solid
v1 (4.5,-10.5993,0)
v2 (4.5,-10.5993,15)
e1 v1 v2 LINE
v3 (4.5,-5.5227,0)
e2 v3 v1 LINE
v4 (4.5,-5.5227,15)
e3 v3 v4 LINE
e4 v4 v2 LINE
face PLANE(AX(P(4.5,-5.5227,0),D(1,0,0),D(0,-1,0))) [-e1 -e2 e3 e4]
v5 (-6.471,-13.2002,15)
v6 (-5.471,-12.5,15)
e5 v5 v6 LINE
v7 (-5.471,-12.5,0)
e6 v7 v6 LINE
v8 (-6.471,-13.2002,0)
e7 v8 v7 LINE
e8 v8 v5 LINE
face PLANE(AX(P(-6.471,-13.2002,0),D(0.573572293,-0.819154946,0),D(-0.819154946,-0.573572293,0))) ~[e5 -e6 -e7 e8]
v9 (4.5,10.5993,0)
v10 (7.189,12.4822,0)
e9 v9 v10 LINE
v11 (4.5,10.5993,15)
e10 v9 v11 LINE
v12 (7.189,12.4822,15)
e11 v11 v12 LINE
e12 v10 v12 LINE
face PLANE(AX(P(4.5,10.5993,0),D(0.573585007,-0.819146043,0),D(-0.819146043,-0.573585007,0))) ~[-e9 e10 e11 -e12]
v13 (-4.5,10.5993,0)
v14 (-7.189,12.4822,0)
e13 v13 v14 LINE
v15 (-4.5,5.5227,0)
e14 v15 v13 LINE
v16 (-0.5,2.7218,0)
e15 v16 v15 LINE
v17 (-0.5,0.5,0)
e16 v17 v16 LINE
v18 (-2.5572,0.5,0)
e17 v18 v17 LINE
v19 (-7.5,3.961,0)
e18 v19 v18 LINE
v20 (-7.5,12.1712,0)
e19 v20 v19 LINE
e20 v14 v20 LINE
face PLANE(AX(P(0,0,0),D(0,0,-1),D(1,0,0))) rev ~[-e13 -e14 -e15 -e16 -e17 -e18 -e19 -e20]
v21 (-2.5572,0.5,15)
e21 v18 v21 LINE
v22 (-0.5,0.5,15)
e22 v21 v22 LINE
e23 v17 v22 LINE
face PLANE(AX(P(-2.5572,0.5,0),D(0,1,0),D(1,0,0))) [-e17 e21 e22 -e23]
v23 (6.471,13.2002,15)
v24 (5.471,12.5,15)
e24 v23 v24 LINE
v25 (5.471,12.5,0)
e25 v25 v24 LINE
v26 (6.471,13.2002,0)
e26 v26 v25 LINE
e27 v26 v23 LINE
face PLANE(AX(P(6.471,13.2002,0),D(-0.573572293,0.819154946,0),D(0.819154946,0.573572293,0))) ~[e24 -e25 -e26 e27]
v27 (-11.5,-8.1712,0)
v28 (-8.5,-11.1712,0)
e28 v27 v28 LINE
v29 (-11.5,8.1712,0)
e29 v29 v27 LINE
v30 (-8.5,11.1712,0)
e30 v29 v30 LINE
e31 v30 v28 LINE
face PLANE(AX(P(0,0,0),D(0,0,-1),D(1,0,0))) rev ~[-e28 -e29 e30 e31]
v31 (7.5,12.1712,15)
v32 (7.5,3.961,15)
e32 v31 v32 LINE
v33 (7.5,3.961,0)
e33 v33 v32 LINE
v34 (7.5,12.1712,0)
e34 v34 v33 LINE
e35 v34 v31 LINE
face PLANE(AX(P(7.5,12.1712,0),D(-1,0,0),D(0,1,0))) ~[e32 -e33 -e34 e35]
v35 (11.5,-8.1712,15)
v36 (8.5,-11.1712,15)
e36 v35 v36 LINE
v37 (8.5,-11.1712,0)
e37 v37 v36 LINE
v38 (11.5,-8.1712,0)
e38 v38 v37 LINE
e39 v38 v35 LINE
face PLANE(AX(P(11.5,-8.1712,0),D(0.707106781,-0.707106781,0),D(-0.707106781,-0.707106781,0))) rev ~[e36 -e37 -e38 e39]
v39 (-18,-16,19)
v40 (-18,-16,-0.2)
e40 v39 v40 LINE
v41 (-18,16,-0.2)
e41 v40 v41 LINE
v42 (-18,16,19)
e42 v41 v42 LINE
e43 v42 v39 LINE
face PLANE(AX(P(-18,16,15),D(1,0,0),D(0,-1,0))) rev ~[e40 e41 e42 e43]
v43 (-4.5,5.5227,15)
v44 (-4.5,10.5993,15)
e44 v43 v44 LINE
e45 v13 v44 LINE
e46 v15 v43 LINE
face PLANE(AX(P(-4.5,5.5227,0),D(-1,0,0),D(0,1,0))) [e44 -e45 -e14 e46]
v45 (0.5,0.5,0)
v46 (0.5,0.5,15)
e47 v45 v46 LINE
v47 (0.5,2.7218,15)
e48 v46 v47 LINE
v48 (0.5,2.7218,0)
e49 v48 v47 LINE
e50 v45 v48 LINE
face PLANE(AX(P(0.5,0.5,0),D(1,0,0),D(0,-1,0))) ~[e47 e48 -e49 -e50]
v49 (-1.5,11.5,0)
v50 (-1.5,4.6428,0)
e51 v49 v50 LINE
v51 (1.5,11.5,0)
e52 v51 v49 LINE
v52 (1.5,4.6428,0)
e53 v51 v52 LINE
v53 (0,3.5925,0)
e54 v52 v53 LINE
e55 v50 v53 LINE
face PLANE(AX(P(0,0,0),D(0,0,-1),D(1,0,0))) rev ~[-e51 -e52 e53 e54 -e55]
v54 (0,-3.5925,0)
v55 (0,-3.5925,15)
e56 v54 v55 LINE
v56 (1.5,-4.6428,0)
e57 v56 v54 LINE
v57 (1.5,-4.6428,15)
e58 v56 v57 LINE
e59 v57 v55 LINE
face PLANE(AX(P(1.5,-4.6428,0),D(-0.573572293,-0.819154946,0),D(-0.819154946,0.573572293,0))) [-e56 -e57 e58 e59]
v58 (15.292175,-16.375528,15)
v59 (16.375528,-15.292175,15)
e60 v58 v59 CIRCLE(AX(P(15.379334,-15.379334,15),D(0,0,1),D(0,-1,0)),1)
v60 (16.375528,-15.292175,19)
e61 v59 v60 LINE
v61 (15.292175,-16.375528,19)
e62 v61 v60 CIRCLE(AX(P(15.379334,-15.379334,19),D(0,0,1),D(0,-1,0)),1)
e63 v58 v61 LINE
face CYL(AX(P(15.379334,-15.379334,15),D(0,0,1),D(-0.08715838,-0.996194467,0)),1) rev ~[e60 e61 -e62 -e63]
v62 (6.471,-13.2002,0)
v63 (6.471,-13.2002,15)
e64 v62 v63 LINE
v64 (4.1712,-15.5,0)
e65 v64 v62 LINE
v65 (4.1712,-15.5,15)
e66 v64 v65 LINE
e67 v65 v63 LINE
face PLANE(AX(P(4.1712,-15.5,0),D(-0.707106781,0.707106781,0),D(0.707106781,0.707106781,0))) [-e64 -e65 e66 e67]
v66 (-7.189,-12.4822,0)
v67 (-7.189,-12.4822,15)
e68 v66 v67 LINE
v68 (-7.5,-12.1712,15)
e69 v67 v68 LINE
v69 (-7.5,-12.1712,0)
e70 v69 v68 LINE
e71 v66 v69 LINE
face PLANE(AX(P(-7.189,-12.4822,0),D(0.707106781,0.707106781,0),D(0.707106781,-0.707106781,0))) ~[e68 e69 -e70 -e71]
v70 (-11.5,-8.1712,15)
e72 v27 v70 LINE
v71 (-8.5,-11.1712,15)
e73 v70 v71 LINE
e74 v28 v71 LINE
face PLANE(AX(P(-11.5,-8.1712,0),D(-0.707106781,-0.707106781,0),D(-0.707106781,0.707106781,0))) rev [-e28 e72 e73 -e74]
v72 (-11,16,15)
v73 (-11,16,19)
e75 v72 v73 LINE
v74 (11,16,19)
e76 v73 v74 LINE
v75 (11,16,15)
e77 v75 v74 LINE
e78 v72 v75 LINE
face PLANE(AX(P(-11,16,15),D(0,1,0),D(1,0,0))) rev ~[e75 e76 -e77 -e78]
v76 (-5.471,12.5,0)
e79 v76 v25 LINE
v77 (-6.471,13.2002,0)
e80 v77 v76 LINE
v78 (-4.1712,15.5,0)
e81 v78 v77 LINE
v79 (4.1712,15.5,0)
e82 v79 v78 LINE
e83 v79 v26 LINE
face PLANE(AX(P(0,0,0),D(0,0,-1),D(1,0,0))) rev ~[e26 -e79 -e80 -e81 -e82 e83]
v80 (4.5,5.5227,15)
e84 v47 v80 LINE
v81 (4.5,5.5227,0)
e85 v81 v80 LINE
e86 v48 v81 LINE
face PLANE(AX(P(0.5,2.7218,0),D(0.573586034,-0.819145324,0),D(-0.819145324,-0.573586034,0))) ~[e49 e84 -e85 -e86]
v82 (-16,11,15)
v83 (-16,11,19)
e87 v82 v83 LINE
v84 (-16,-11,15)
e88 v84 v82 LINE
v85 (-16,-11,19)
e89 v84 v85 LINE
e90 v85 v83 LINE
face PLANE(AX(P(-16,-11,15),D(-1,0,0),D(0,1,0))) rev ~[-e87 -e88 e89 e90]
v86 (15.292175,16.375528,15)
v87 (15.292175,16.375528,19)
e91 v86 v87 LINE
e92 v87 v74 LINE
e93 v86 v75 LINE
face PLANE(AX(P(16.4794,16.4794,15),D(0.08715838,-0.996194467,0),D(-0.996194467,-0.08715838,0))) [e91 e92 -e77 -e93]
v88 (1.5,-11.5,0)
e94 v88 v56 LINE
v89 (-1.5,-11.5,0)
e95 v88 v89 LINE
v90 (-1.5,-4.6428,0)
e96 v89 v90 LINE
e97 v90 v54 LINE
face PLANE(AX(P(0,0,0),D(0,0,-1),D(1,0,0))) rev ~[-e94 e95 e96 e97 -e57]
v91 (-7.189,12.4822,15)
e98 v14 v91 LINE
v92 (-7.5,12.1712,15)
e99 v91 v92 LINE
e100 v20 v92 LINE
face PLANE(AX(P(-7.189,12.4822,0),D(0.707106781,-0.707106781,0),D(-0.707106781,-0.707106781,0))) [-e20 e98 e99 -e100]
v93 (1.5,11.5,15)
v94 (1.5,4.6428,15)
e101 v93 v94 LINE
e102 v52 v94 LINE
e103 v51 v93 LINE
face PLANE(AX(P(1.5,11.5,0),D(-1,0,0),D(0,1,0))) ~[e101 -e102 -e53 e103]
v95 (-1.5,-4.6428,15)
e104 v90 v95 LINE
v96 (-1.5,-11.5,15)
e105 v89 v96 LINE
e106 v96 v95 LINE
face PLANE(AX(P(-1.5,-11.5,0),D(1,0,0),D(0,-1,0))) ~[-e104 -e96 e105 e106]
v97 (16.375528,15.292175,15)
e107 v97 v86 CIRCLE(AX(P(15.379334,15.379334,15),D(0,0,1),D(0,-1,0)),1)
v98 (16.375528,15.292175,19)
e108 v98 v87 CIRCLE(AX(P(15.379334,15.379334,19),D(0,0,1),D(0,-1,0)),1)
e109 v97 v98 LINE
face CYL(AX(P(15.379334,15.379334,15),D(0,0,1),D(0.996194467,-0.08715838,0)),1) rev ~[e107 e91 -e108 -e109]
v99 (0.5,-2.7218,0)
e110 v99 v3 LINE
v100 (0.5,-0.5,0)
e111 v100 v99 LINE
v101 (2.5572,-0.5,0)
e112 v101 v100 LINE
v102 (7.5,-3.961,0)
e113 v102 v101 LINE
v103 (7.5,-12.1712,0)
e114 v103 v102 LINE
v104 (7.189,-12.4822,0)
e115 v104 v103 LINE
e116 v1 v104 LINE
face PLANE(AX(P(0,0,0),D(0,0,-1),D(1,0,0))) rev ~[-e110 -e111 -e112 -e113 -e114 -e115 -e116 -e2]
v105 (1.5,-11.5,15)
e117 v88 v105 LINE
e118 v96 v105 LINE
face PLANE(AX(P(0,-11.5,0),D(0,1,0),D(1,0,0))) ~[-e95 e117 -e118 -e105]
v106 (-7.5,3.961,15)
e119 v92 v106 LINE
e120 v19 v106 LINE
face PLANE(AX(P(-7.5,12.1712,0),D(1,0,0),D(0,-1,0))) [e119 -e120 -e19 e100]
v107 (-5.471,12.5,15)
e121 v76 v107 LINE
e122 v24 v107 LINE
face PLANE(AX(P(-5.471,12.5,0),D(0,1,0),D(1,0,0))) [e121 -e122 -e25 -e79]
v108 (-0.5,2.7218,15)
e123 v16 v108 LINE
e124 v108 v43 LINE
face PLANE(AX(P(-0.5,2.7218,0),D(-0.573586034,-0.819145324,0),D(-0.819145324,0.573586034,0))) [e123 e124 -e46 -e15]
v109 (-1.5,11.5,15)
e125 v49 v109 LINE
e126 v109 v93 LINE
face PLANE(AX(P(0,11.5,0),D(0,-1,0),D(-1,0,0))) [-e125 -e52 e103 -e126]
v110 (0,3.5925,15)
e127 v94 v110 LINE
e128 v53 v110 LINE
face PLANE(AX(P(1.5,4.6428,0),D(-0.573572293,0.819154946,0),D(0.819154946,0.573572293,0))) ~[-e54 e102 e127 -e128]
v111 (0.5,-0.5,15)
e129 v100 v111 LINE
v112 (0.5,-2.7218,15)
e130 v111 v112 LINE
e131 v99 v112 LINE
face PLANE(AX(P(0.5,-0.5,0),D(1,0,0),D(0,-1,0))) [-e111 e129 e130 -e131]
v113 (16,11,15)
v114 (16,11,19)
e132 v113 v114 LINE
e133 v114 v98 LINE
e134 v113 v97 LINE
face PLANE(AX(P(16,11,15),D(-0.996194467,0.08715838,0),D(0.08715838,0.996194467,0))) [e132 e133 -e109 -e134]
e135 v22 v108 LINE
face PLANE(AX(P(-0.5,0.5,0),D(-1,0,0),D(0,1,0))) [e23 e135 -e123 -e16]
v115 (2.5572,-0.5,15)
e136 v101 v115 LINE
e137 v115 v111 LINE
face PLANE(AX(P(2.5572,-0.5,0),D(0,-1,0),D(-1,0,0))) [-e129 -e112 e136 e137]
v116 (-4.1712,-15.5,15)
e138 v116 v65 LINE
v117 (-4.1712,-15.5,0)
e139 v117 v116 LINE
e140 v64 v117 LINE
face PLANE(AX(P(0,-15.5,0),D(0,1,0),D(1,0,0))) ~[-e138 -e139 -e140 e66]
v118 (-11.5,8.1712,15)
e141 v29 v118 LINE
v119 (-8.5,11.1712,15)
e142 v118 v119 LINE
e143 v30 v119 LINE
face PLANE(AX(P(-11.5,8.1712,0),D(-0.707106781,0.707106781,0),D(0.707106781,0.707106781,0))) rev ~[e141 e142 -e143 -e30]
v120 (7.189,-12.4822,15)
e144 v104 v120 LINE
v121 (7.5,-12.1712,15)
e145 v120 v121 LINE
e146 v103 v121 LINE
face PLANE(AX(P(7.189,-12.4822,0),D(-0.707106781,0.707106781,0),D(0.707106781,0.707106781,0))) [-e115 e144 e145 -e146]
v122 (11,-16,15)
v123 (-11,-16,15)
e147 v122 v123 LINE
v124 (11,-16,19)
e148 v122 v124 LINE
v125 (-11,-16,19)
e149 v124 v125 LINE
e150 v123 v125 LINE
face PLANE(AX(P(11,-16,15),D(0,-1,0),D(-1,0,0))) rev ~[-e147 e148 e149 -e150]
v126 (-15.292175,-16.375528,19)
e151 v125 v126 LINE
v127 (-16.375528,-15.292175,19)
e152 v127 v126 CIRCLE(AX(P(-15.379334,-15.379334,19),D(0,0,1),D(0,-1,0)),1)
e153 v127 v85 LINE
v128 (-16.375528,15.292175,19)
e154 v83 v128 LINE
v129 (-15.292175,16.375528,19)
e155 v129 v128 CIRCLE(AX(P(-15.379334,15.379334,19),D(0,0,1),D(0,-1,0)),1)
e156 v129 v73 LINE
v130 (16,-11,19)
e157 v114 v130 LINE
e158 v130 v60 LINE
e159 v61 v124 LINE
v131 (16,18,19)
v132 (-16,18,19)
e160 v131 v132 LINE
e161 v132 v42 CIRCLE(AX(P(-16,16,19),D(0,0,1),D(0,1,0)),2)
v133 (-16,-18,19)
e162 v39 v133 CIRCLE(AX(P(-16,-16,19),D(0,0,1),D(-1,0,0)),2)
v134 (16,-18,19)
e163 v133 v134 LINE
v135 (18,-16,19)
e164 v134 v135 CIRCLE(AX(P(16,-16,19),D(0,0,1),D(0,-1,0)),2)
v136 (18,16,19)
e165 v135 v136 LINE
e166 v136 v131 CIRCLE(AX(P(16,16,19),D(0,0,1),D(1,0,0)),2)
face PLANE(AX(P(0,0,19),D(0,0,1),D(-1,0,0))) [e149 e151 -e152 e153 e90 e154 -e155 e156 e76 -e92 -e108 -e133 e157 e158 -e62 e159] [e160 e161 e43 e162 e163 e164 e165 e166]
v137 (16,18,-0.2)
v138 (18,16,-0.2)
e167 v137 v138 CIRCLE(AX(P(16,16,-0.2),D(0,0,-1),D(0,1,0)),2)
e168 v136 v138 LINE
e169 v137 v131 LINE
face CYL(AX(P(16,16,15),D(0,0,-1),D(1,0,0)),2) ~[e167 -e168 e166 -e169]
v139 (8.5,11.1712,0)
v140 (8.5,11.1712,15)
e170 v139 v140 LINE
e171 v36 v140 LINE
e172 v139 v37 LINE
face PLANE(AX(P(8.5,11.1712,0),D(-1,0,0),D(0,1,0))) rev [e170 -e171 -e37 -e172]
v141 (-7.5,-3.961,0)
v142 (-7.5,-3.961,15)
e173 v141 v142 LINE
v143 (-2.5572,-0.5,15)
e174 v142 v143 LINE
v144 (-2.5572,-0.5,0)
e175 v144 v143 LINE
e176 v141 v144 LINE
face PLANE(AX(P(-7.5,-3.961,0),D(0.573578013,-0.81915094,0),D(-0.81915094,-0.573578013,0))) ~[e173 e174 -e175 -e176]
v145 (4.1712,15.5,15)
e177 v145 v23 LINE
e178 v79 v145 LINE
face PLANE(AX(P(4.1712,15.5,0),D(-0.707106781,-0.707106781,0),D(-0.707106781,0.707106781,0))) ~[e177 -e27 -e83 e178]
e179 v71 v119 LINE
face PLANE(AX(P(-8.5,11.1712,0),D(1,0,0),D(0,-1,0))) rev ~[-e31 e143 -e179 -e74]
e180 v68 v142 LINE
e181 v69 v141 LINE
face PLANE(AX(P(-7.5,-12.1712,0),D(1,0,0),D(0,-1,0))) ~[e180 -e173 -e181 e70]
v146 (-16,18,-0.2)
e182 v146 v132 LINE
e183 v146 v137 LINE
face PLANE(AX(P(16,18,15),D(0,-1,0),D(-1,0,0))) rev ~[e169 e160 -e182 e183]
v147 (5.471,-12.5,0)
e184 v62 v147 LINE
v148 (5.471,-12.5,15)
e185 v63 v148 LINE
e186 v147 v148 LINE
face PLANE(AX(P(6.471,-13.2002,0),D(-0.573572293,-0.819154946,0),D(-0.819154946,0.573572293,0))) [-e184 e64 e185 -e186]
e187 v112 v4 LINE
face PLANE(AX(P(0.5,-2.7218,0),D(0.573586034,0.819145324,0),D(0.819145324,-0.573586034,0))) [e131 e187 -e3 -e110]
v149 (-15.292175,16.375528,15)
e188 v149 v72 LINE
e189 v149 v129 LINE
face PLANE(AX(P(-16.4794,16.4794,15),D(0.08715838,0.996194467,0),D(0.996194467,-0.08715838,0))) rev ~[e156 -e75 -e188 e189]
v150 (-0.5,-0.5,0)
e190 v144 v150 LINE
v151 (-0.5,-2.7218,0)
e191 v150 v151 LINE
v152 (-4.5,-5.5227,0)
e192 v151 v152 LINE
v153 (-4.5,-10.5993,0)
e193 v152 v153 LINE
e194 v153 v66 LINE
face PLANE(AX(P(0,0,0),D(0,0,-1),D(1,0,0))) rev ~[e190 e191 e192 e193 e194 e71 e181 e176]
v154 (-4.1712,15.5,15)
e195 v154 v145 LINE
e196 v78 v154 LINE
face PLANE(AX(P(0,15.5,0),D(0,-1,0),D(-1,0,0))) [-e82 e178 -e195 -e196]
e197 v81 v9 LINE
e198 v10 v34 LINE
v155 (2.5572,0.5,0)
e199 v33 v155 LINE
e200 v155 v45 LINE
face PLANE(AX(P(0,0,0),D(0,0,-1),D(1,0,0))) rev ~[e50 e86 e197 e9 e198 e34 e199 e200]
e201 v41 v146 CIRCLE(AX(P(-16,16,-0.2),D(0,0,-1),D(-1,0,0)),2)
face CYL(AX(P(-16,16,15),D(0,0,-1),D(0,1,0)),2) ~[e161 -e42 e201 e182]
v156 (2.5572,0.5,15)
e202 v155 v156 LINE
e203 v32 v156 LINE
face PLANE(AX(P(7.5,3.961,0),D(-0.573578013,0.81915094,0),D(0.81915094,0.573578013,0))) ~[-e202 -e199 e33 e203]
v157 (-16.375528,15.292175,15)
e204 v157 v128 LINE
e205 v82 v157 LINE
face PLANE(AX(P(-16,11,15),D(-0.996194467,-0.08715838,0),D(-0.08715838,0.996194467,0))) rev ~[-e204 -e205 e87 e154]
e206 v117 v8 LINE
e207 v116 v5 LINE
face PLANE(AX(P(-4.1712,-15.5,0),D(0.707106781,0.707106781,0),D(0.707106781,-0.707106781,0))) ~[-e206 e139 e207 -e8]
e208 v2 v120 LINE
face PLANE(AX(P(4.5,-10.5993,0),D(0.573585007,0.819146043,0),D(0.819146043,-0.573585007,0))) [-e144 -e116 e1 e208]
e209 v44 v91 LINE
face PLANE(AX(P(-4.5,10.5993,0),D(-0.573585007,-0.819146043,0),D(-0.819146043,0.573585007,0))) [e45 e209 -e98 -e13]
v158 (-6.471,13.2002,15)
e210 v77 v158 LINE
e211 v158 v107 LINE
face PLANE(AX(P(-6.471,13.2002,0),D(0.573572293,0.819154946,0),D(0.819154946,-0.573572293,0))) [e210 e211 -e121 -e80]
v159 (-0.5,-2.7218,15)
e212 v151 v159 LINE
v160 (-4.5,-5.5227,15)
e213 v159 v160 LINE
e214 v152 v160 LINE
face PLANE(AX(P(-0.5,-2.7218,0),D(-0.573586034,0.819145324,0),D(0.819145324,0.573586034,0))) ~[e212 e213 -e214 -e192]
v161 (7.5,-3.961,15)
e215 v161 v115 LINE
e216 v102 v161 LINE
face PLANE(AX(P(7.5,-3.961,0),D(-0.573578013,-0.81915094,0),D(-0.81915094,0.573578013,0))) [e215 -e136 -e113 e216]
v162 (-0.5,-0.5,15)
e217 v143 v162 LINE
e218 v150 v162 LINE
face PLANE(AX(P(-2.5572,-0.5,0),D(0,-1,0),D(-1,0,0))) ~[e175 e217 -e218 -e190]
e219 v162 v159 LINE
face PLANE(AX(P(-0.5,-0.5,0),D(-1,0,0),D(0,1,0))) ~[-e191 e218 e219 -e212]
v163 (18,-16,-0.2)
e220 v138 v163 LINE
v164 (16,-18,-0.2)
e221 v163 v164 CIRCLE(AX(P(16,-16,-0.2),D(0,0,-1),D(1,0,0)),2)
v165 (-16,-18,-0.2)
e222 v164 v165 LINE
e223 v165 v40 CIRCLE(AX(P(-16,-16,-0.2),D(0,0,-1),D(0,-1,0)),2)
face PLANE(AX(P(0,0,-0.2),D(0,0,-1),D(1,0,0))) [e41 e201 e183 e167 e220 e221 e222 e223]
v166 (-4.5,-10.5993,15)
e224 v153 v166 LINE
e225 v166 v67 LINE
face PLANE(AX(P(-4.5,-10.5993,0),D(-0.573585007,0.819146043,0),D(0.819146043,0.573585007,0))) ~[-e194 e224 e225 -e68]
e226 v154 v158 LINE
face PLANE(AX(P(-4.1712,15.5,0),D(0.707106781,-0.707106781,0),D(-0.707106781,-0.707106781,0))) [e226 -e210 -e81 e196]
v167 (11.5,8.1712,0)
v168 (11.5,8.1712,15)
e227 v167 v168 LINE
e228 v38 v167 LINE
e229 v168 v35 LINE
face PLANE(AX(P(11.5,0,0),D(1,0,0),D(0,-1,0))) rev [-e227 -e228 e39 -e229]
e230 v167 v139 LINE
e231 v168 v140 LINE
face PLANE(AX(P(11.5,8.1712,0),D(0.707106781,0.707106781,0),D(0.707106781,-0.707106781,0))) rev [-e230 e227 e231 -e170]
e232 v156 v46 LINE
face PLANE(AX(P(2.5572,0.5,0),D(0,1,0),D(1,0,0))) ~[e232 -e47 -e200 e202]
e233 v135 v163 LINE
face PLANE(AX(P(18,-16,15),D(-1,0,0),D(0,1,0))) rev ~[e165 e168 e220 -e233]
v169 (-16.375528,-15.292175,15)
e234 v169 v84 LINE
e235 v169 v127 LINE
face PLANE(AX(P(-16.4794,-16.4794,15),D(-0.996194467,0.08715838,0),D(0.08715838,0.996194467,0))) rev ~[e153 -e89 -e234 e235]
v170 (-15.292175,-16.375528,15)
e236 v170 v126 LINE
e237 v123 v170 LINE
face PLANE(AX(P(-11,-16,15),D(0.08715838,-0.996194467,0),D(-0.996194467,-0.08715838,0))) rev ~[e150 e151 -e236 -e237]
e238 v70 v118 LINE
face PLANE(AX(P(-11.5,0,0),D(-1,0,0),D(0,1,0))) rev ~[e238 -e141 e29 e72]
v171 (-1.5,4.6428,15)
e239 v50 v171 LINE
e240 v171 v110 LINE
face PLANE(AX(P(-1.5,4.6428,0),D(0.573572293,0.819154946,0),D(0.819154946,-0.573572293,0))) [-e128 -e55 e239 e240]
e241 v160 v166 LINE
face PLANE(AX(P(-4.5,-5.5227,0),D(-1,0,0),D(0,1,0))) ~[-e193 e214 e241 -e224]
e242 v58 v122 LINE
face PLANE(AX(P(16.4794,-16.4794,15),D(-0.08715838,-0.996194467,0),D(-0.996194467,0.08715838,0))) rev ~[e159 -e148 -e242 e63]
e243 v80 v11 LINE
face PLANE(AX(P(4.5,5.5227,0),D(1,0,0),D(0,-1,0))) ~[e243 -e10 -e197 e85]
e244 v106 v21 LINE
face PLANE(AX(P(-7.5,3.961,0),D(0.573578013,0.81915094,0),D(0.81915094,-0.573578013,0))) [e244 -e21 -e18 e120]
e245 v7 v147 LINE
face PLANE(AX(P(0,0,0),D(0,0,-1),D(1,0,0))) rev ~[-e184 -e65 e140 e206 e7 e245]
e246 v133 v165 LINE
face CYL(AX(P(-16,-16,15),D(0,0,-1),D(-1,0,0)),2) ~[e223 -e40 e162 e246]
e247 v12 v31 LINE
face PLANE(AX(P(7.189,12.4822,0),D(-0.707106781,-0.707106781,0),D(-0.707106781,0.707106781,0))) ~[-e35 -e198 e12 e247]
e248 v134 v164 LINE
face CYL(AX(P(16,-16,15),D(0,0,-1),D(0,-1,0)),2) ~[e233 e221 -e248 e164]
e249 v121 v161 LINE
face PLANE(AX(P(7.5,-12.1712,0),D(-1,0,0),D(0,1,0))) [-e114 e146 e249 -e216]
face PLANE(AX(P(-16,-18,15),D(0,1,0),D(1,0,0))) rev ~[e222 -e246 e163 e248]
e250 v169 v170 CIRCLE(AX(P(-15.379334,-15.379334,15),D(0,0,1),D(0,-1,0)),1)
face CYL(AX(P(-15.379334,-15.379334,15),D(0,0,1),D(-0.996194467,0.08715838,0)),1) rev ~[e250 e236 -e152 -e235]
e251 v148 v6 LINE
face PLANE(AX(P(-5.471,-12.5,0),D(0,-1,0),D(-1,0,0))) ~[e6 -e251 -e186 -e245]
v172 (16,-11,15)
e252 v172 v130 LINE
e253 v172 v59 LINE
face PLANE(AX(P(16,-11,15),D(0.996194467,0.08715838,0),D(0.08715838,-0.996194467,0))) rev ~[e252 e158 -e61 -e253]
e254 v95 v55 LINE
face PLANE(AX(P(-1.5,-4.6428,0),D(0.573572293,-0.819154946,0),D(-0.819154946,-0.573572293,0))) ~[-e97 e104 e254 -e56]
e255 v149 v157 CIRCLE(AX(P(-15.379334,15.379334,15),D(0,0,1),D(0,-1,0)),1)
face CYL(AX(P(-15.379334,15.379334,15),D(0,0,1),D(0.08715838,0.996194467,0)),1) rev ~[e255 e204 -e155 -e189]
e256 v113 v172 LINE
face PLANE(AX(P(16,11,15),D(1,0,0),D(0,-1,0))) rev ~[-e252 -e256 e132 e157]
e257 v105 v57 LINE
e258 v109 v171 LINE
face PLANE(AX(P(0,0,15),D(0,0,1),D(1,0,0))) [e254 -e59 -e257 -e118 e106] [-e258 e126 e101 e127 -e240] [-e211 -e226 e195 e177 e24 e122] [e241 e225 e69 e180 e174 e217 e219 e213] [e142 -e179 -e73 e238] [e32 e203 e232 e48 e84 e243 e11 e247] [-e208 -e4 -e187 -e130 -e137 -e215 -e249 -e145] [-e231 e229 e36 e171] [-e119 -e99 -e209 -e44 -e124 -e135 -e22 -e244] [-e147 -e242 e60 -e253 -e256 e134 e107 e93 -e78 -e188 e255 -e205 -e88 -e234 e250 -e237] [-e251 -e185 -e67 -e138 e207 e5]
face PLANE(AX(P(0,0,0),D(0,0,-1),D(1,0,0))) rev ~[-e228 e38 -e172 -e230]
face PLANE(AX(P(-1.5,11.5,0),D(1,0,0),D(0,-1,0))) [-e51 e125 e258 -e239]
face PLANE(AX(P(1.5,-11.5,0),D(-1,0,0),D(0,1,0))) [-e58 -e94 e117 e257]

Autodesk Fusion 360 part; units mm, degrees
sketch "8x8_led_matrix_display" plane through (0, 0, 0) normal (0, 0, 1) x (1, 0, 0)
  circle A0 centre (-14, 14) radius 1.5
  circle A1 centre (-10, 14) radius 1.5
  circle A2 centre (-6, 14) radius 1.5
  circle A3 centre (-2, 14) radius 1.5
  circle A4 centre (2, 14) radius 1.5
  circle A5 centre (6, 14) radius 1.5
  circle A6 centre (10, 14) radius 1.5
  circle A7 centre (14, 14) radius 1.5
  circle A8 centre (-14, 10) radius 1.5
  circle A9 centre (-10, 10) radius 1.5
  circle A10 centre (-6, 10) radius 1.5
  circle A11 centre (-2, 10) radius 1.5
  circle A12 centre (2, 10) radius 1.5
  circle A13 centre (6, 10) radius 1.5
  circle A14 centre (10, 10) radius 1.5
  circle A15 centre (14, 10) radius 1.5
  circle A16 centre (-14, 6) radius 1.5
  circle A17 centre (-10, 6) radius 1.5
  circle A18 centre (-6, 6) radius 1.5
  circle A19 centre (-2, 6) radius 1.5
  circle A20 centre (2, 6) radius 1.5
  circle A21 centre (6, 6) radius 1.5
  circle A22 centre (10, 6) radius 1.5
  circle A23 centre (14, 6) radius 1.5
  circle A24 centre (-14, 2) radius 1.5
  circle A25 centre (-10, 2) radius 1.5
  circle A26 centre (-6, 2) radius 1.5
  circle A27 centre (-2, 2) radius 1.5
  circle A28 centre (2, 2) radius 1.5
  circle A29 centre (6, 2) radius 1.5
  circle A30 centre (10, 2) radius 1.5
  circle A31 centre (14, 2) radius 1.5
  circle A32 centre (-14, -2) radius 1.5
  circle A33 centre (-10, -2) radius 1.5
  circle A34 centre (-6, -2) radius 1.5
  circle A35 centre (-2, -2) radius 1.5
  circle A36 centre (2, -2) radius 1.5
  circle A37 centre (6, -2) radius 1.5
  circle A38 centre (10, -2) radius 1.5
  circle A39 centre (14, -2) radius 1.5
  circle A40 centre (-14, -6) radius 1.5
  circle A41 centre (-10, -6) radius 1.5
  circle A42 centre (-6, -6) radius 1.5
  circle A43 centre (-2, -6) radius 1.5
  circle A44 centre (2, -6) radius 1.5
  circle A45 centre (6, -6) radius 1.5
  circle A46 centre (10, -6) radius 1.5
  circle A47 centre (14, -6) radius 1.5
  circle A48 centre (-14, -10) radius 1.5
  circle A49 centre (-10, -10) radius 1.5
  circle A50 centre (-6, -10) radius 1.5
  circle A51 centre (-2, -10) radius 1.5
  circle A52 centre (2, -10) radius 1.5
  circle A53 centre (6, -10) radius 1.5
  circle A54 centre (10, -10) radius 1.5
  circle A55 centre (14, -10) radius 1.5
  circle A56 centre (-14, -14) radius 1.5
  circle A57 centre (-10, -14) radius 1.5
  circle A58 centre (-6, -14) radius 1.5
  circle A59 centre (-2, -14) radius 1.5
  circle A60 centre (2, -14) radius 1.5
  circle A61 centre (6, -14) radius 1.5
  circle A62 centre (10, -14) radius 1.5
  circle A63 centre (14, -14) radius 1.5
  line L0 (16, -16) -> (-16, -16)
  line L1 (-16, -16) -> (-16, 16)
  line L2 (-16, 16) -> (16, 16)
  line L3 (16, 16) -> (16, -16)
  line L4 (16, -16) -> (-16, 16) construction
  line L5 (-16, -16) -> (16, 16) construction
  line L6 (18, -18) -> (-18, -18)
  line L7 (-18, -18) -> (-18, 18)
  line L8 (-18, 18) -> (18, 18)
  line L9 (18, 18) -> (18, -18)
  dimension "d1" = 3
  dimension "d2" = 14
  dimension "d3" = 14
  dimension "d6" = 28
  dimension "d7" = -28
  dimension "d8" = 32
  dimension "d9" = 32
  dimension "d33" = -2
sketch "segments" plane through (0, 0, 0) normal (0, 0, 1) x (1, 0, 0)
  line L0 (0, 0) -> (-16, 0)
  line L1 (-16, 0) -> (-16, 16)
  line L2 (-16, 16) -> (0, 16)
  line L3 (0, 16) -> (0, 0)
  line L4 (-11.5, 0) -> (-11.5, 8.1712)
  line L5 (-11.5, 8.1712) -> (-8.5, 11.1712)
  line L6 (-8.5, 11.1712) -> (-8.5, 0)
  line L7 (-7.5, 12.1712) -> (-7.5, 3.961)
  line L8 (-7.5, 3.961) -> (-2.5572, 0.5)
  line L9 (-2.5572, 0.5) -> (-0.5, 0.5)
  line L10 (-0.5, 0.5) -> (-0.5, 2.7218)
  line L11 (-0.5, 2.7218) -> (-4.5, 5.5227)
  line L12 (-4.5, 5.5227) -> (-4.5, 10.5993)
  line L13 (-4.5, 10.5993) -> (-7.189, 12.4822)
  line L14 (-7.189, 12.4822) -> (-7.5, 12.1712)
  line L15 (0, 11.5) -> (-1.5, 11.5)
  line L16 (-1.5, 11.5) -> (-1.5, 4.6428)
  line L17 (-1.5, 4.6428) -> (0, 3.5925)
  line L18 (0, 15.5) -> (-4.1712, 15.5)
  line L19 (-4.1712, 15.5) -> (-6.471, 13.2002)
  line L20 (-6.471, 13.2002) -> (-5.471, 12.5)
  line L21 (-5.471, 12.5) -> (0, 12.5)
  dimension "d10" = 16
  dimension "d11" = 16
  dimension "d12" = 3
  dimension "d13" = 8.5
  dimension "d14" = 3
  dimension "d15" = 3
  dimension "d16" = 0.5
  dimension "d17" = 0.5
  dimension "d18" = 1
  dimension "d19" = 1.5
  dimension "d20" = 11.5
  dimension "d21" = 1
  dimension "d22" = 3
  dimension "d23" = 15.5
  dimension "d24" = 1
  dimension "d25" = 45
  dimension "d26" = 125
extrude "Extrude1" add sketch "segments" along normal blind 15 contours L0 L1 L2 L3 L4 L5 L6 L15 L16 L17 L18 L19 L20 L21
mirror "Mirror1" about plane through (0, 0, 0) normal (1, 0, 0) of bodies 1 merged
mirror "Mirror2" about plane through (0, 0, 0) normal (0, 1, 0) of bodies 1 merged
extrude "Extrude2" add sketch "8x8_led_matrix_display" along normal blind 15 contours L6 L7 L8 L9
fillet "Fillet1" radius 2 4 edges at (-18, -18, 7.5) (18, -18, 7.5) (18, 18, 7.5) (-18, 18, 7.5)
sketch "projected_for_diffuser" plane through (0, 0, 0) normal (0, 0, -1) x (1, 0, 0)
  arc A0 (-18, -16) -> (-16, -18) centre (-16, -16) ccw
  line L0 (-16, -18) -> (16, -18)
  arc A1 (16, -18) -> (18, -16) centre (16, -16) ccw
  line L1 (18, -16) -> (18, 16)
  arc A2 (18, 16) -> (16, 18) centre (16, 16) ccw
  line L2 (16, 18) -> (-16, 18)
  arc A3 (-16, 18) -> (-18, 16) centre (-16, 16) ccw
  line L3 (-18, 16) -> (-18, -16)
  line L4 (11.5, 8.1712) -> (11.5, -8.1712)
  line L5 (11.5, -8.1712) -> (8.5, -11.1712)
  line L6 (8.5, -11.1712) -> (8.5, 11.1712)
  line L7 (8.5, 11.1712) -> (11.5, 8.1712)
  line L8 (-7.5, 12.1712) -> (-7.189, 12.4822)
  line L9 (-7.189, 12.4822) -> (-4.5, 10.5993)
  line L10 (-4.5, 10.5993) -> (-4.5, 5.5227)
  line L11 (-4.5, 5.5227) -> (-0.5, 2.7218)
  line L12 (-0.5, 2.7218) -> (-0.5, 0.5)
  line L13 (-0.5, 0.5) -> (-2.5572, 0.5)
  line L14 (-2.5572, 0.5) -> (-7.5, 3.961)
  line L15 (-7.5, 3.961) -> (-7.5, 12.1712)
  line L16 (7.189, 12.4822) -> (7.5, 12.1712)
  line L17 (7.5, 12.1712) -> (7.5, 3.961)
  line L18 (7.5, 3.961) -> (2.5572, 0.5)
  line L19 (2.5572, 0.5) -> (0.5, 0.5)
  line L20 (0.5, 0.5) -> (0.5, 2.7218)
  line L21 (0.5, 2.7218) -> (4.5, 5.5227)
  line L22 (4.5, 5.5227) -> (4.5, 10.5993)
  line L23 (4.5, 10.5993) -> (7.189, 12.4822)
  line L24 (-1.5, 11.5) -> (1.5, 11.5)
  line L25 (1.5, 11.5) -> (1.5, 4.6428)
  line L26 (1.5, 4.6428) -> (0, 3.5925)
  line L27 (0, 3.5925) -> (-1.5, 4.6428)
  line L28 (-1.5, 4.6428) -> (-1.5, 11.5)
  line L29 (-4.1712, 15.5) -> (4.1712, 15.5)
  line L30 (4.1712, 15.5) -> (6.471, 13.2002)
  line L31 (6.471, 13.2002) -> (5.471, 12.5)
  line L32 (5.471, 12.5) -> (-5.471, 12.5)
  line L33 (-5.471, 12.5) -> (-6.471, 13.2002)
  line L34 (-6.471, 13.2002) -> (-4.1712, 15.5)
  line L35 (4.1712, -15.5) -> (-4.1712, -15.5)
  line L36 (-4.1712, -15.5) -> (-6.471, -13.2002)
  line L37 (-6.471, -13.2002) -> (-5.471, -12.5)
  line L38 (-5.471, -12.5) -> (5.471, -12.5)
  line L39 (5.471, -12.5) -> (6.471, -13.2002)
  line L40 (6.471, -13.2002) -> (4.1712, -15.5)
  line L41 (1.5, -11.5) -> (-1.5, -11.5)
  line L42 (-1.5, -11.5) -> (-1.5, -4.6428)
  line L43 (-1.5, -4.6428) -> (0, -3.5925)
  line L44 (0, -3.5925) -> (1.5, -4.6428)
  line L45 (1.5, -4.6428) -> (1.5, -11.5)
  line L46 (7.5, -12.1712) -> (7.189, -12.4822)
  line L47 (7.189, -12.4822) -> (4.5, -10.5993)
  line L48 (4.5, -10.5993) -> (4.5, -5.5227)
  line L49 (4.5, -5.5227) -> (0.5, -2.7218)
  line L50 (0.5, -2.7218) -> (0.5, -0.5)
  line L51 (0.5, -0.5) -> (2.5572, -0.5)
  line L52 (2.5572, -0.5) -> (7.5, -3.961)
  line L53 (7.5, -3.961) -> (7.5, -12.1712)
  line L54 (-7.189, -12.4822) -> (-7.5, -12.1712)
  line L55 (-7.5, -12.1712) -> (-7.5, -3.961)
  line L56 (-7.5, -3.961) -> (-2.5572, -0.5)
  line L57 (-2.5572, -0.5) -> (-0.5, -0.5)
  line L58 (-0.5, -0.5) -> (-0.5, -2.7218)
  line L59 (-0.5, -2.7218) -> (-4.5, -5.5227)
  line L60 (-4.5, -5.5227) -> (-4.5, -10.5993)
  line L61 (-4.5, -10.5993) -> (-7.189, -12.4822)
  line L62 (-11.5, -8.1712) -> (-11.5, 8.1712)
  line L63 (-11.5, 8.1712) -> (-8.5, 11.1712)
  line L64 (-8.5, 11.1712) -> (-8.5, -11.1712)
  line L65 (-8.5, -11.1712) -> (-11.5, -8.1712)
extrude "Extrude3" add sketch "projected_for_diffuser" along normal blind 0.2 contours A0 L0 A1 L1 A2 L2 A3 L3 | L4 L5 L6 L7 | L8 L9 L10 L11 L12 L13 L14 L15 | L16 L17 L18 L19 L20 L21 L22 L23 | L24 L25 L26 L27 L28 | L29 L30 L31 L32 L33 L34 | L35 L36 L37 L38 L39 L40 | L41 L42 L43 L44 L45 | L46 L47 L48 L49 L50 L51 L52 L53 | L54 L55 L56 L57 L58 L59 L60 L61 | L62 L63 L64 L65
sketch "grip_for_display" plane through (0, 0, 15) normal (0, 0, 1) x (-1, 0, 0)
  line L0 (16, -16) -> (-16, -16)
  line L1 (-16, -16) -> (-16, 16)
  line L2 (-16, 16) -> (16, 16)
  line L3 (16, 16) -> (16, -16)
  line L4 (16, -16) -> (-16, 16) construction
  line L5 (-16, -16) -> (16, 16) construction
  line L6 (16, -11) -> (-16, -11)
  line L7 (-16, -11) -> (-16, 11)
  line L8 (-16, 11) -> (16, 11)
  line L9 (16, 11) -> (16, -11)
  line L10 (16, -11) -> (-16, 11) construction
  line L11 (-16, -11) -> (16, 11) construction
  line L12 (11, -16) -> (-11, -16)
  line L13 (-11, -16) -> (-11, 16)
  line L14 (-11, 16) -> (11, 16)
  line L15 (11, 16) -> (11, -16)
  line L16 (11, -16) -> (-11, 16) construction
  line L17 (-11, -16) -> (11, 16) construction
  line L18 (-16, 11) -> (-16.4794, 16.4794)
  line L19 (-16.4794, 16.4794) -> (-11, 16)
  line L20 (11, 16) -> (16.4794, 16.4794)
  line L21 (16.4794, 16.4794) -> (16, 11)
  line L22 (16, -11) -> (16.4794, -16.4794)
  line L23 (16.4794, -16.4794) -> (11, -16)
  line L24 (-16, -11) -> (-16.4794, -16.4794)
  line L25 (-16.4794, -16.4794) -> (-11, -16)
  line L26 (-16, -18) -> (16, -18)
  arc A0 (-18, -16) -> (-16, -18) centre (-16, -16) ccw
  line L27 (-18, 16) -> (-18, -16)
  arc A1 (-16, 18) -> (-18, 16) centre (-16, 16) ccw
  line L28 (16, 18) -> (-16, 18)
  arc A2 (18, 16) -> (16, 18) centre (16, 16) ccw
  line L29 (18, -16) -> (18, 16)
  arc A3 (16, -18) -> (18, -16) centre (16, -16) ccw
  dimension "d40" = 32
  dimension "d41" = 32
  dimension "d42" = 32
  dimension "d43" = 22
  dimension "d44" = 22
  dimension "d45" = 32
  dimension "d46" = 80
extrude "Extrude4" add sketch "grip_for_display" along normal blind 4
fillet "Fillet2" radius 1 4 edges at (16.4794, -16.4794, 17) (-16.4794, -16.4794, 17) (-16.4794, 16.4794, 17) (16.4794, 16.4794, 17)
fillet "Fillet2" radius 5 8 edges at (16, -11, 17) (11, -16, 17) (-11, -16, 17) (-16, -11, 17) (-16, 11, 17) (-11, 16, 17) (11, 16, 17) (16, 11, 17)
equation "d2 = ( 3.5 * 4 ) * 1 mm"
equation "d3 = ( 3.5 * 4 ) * 1 mm"
equation "d6 = ( 4 * 7 ) * 1 mm"
equation "d7 = ( -4 * 7 ) * 1 mm"
